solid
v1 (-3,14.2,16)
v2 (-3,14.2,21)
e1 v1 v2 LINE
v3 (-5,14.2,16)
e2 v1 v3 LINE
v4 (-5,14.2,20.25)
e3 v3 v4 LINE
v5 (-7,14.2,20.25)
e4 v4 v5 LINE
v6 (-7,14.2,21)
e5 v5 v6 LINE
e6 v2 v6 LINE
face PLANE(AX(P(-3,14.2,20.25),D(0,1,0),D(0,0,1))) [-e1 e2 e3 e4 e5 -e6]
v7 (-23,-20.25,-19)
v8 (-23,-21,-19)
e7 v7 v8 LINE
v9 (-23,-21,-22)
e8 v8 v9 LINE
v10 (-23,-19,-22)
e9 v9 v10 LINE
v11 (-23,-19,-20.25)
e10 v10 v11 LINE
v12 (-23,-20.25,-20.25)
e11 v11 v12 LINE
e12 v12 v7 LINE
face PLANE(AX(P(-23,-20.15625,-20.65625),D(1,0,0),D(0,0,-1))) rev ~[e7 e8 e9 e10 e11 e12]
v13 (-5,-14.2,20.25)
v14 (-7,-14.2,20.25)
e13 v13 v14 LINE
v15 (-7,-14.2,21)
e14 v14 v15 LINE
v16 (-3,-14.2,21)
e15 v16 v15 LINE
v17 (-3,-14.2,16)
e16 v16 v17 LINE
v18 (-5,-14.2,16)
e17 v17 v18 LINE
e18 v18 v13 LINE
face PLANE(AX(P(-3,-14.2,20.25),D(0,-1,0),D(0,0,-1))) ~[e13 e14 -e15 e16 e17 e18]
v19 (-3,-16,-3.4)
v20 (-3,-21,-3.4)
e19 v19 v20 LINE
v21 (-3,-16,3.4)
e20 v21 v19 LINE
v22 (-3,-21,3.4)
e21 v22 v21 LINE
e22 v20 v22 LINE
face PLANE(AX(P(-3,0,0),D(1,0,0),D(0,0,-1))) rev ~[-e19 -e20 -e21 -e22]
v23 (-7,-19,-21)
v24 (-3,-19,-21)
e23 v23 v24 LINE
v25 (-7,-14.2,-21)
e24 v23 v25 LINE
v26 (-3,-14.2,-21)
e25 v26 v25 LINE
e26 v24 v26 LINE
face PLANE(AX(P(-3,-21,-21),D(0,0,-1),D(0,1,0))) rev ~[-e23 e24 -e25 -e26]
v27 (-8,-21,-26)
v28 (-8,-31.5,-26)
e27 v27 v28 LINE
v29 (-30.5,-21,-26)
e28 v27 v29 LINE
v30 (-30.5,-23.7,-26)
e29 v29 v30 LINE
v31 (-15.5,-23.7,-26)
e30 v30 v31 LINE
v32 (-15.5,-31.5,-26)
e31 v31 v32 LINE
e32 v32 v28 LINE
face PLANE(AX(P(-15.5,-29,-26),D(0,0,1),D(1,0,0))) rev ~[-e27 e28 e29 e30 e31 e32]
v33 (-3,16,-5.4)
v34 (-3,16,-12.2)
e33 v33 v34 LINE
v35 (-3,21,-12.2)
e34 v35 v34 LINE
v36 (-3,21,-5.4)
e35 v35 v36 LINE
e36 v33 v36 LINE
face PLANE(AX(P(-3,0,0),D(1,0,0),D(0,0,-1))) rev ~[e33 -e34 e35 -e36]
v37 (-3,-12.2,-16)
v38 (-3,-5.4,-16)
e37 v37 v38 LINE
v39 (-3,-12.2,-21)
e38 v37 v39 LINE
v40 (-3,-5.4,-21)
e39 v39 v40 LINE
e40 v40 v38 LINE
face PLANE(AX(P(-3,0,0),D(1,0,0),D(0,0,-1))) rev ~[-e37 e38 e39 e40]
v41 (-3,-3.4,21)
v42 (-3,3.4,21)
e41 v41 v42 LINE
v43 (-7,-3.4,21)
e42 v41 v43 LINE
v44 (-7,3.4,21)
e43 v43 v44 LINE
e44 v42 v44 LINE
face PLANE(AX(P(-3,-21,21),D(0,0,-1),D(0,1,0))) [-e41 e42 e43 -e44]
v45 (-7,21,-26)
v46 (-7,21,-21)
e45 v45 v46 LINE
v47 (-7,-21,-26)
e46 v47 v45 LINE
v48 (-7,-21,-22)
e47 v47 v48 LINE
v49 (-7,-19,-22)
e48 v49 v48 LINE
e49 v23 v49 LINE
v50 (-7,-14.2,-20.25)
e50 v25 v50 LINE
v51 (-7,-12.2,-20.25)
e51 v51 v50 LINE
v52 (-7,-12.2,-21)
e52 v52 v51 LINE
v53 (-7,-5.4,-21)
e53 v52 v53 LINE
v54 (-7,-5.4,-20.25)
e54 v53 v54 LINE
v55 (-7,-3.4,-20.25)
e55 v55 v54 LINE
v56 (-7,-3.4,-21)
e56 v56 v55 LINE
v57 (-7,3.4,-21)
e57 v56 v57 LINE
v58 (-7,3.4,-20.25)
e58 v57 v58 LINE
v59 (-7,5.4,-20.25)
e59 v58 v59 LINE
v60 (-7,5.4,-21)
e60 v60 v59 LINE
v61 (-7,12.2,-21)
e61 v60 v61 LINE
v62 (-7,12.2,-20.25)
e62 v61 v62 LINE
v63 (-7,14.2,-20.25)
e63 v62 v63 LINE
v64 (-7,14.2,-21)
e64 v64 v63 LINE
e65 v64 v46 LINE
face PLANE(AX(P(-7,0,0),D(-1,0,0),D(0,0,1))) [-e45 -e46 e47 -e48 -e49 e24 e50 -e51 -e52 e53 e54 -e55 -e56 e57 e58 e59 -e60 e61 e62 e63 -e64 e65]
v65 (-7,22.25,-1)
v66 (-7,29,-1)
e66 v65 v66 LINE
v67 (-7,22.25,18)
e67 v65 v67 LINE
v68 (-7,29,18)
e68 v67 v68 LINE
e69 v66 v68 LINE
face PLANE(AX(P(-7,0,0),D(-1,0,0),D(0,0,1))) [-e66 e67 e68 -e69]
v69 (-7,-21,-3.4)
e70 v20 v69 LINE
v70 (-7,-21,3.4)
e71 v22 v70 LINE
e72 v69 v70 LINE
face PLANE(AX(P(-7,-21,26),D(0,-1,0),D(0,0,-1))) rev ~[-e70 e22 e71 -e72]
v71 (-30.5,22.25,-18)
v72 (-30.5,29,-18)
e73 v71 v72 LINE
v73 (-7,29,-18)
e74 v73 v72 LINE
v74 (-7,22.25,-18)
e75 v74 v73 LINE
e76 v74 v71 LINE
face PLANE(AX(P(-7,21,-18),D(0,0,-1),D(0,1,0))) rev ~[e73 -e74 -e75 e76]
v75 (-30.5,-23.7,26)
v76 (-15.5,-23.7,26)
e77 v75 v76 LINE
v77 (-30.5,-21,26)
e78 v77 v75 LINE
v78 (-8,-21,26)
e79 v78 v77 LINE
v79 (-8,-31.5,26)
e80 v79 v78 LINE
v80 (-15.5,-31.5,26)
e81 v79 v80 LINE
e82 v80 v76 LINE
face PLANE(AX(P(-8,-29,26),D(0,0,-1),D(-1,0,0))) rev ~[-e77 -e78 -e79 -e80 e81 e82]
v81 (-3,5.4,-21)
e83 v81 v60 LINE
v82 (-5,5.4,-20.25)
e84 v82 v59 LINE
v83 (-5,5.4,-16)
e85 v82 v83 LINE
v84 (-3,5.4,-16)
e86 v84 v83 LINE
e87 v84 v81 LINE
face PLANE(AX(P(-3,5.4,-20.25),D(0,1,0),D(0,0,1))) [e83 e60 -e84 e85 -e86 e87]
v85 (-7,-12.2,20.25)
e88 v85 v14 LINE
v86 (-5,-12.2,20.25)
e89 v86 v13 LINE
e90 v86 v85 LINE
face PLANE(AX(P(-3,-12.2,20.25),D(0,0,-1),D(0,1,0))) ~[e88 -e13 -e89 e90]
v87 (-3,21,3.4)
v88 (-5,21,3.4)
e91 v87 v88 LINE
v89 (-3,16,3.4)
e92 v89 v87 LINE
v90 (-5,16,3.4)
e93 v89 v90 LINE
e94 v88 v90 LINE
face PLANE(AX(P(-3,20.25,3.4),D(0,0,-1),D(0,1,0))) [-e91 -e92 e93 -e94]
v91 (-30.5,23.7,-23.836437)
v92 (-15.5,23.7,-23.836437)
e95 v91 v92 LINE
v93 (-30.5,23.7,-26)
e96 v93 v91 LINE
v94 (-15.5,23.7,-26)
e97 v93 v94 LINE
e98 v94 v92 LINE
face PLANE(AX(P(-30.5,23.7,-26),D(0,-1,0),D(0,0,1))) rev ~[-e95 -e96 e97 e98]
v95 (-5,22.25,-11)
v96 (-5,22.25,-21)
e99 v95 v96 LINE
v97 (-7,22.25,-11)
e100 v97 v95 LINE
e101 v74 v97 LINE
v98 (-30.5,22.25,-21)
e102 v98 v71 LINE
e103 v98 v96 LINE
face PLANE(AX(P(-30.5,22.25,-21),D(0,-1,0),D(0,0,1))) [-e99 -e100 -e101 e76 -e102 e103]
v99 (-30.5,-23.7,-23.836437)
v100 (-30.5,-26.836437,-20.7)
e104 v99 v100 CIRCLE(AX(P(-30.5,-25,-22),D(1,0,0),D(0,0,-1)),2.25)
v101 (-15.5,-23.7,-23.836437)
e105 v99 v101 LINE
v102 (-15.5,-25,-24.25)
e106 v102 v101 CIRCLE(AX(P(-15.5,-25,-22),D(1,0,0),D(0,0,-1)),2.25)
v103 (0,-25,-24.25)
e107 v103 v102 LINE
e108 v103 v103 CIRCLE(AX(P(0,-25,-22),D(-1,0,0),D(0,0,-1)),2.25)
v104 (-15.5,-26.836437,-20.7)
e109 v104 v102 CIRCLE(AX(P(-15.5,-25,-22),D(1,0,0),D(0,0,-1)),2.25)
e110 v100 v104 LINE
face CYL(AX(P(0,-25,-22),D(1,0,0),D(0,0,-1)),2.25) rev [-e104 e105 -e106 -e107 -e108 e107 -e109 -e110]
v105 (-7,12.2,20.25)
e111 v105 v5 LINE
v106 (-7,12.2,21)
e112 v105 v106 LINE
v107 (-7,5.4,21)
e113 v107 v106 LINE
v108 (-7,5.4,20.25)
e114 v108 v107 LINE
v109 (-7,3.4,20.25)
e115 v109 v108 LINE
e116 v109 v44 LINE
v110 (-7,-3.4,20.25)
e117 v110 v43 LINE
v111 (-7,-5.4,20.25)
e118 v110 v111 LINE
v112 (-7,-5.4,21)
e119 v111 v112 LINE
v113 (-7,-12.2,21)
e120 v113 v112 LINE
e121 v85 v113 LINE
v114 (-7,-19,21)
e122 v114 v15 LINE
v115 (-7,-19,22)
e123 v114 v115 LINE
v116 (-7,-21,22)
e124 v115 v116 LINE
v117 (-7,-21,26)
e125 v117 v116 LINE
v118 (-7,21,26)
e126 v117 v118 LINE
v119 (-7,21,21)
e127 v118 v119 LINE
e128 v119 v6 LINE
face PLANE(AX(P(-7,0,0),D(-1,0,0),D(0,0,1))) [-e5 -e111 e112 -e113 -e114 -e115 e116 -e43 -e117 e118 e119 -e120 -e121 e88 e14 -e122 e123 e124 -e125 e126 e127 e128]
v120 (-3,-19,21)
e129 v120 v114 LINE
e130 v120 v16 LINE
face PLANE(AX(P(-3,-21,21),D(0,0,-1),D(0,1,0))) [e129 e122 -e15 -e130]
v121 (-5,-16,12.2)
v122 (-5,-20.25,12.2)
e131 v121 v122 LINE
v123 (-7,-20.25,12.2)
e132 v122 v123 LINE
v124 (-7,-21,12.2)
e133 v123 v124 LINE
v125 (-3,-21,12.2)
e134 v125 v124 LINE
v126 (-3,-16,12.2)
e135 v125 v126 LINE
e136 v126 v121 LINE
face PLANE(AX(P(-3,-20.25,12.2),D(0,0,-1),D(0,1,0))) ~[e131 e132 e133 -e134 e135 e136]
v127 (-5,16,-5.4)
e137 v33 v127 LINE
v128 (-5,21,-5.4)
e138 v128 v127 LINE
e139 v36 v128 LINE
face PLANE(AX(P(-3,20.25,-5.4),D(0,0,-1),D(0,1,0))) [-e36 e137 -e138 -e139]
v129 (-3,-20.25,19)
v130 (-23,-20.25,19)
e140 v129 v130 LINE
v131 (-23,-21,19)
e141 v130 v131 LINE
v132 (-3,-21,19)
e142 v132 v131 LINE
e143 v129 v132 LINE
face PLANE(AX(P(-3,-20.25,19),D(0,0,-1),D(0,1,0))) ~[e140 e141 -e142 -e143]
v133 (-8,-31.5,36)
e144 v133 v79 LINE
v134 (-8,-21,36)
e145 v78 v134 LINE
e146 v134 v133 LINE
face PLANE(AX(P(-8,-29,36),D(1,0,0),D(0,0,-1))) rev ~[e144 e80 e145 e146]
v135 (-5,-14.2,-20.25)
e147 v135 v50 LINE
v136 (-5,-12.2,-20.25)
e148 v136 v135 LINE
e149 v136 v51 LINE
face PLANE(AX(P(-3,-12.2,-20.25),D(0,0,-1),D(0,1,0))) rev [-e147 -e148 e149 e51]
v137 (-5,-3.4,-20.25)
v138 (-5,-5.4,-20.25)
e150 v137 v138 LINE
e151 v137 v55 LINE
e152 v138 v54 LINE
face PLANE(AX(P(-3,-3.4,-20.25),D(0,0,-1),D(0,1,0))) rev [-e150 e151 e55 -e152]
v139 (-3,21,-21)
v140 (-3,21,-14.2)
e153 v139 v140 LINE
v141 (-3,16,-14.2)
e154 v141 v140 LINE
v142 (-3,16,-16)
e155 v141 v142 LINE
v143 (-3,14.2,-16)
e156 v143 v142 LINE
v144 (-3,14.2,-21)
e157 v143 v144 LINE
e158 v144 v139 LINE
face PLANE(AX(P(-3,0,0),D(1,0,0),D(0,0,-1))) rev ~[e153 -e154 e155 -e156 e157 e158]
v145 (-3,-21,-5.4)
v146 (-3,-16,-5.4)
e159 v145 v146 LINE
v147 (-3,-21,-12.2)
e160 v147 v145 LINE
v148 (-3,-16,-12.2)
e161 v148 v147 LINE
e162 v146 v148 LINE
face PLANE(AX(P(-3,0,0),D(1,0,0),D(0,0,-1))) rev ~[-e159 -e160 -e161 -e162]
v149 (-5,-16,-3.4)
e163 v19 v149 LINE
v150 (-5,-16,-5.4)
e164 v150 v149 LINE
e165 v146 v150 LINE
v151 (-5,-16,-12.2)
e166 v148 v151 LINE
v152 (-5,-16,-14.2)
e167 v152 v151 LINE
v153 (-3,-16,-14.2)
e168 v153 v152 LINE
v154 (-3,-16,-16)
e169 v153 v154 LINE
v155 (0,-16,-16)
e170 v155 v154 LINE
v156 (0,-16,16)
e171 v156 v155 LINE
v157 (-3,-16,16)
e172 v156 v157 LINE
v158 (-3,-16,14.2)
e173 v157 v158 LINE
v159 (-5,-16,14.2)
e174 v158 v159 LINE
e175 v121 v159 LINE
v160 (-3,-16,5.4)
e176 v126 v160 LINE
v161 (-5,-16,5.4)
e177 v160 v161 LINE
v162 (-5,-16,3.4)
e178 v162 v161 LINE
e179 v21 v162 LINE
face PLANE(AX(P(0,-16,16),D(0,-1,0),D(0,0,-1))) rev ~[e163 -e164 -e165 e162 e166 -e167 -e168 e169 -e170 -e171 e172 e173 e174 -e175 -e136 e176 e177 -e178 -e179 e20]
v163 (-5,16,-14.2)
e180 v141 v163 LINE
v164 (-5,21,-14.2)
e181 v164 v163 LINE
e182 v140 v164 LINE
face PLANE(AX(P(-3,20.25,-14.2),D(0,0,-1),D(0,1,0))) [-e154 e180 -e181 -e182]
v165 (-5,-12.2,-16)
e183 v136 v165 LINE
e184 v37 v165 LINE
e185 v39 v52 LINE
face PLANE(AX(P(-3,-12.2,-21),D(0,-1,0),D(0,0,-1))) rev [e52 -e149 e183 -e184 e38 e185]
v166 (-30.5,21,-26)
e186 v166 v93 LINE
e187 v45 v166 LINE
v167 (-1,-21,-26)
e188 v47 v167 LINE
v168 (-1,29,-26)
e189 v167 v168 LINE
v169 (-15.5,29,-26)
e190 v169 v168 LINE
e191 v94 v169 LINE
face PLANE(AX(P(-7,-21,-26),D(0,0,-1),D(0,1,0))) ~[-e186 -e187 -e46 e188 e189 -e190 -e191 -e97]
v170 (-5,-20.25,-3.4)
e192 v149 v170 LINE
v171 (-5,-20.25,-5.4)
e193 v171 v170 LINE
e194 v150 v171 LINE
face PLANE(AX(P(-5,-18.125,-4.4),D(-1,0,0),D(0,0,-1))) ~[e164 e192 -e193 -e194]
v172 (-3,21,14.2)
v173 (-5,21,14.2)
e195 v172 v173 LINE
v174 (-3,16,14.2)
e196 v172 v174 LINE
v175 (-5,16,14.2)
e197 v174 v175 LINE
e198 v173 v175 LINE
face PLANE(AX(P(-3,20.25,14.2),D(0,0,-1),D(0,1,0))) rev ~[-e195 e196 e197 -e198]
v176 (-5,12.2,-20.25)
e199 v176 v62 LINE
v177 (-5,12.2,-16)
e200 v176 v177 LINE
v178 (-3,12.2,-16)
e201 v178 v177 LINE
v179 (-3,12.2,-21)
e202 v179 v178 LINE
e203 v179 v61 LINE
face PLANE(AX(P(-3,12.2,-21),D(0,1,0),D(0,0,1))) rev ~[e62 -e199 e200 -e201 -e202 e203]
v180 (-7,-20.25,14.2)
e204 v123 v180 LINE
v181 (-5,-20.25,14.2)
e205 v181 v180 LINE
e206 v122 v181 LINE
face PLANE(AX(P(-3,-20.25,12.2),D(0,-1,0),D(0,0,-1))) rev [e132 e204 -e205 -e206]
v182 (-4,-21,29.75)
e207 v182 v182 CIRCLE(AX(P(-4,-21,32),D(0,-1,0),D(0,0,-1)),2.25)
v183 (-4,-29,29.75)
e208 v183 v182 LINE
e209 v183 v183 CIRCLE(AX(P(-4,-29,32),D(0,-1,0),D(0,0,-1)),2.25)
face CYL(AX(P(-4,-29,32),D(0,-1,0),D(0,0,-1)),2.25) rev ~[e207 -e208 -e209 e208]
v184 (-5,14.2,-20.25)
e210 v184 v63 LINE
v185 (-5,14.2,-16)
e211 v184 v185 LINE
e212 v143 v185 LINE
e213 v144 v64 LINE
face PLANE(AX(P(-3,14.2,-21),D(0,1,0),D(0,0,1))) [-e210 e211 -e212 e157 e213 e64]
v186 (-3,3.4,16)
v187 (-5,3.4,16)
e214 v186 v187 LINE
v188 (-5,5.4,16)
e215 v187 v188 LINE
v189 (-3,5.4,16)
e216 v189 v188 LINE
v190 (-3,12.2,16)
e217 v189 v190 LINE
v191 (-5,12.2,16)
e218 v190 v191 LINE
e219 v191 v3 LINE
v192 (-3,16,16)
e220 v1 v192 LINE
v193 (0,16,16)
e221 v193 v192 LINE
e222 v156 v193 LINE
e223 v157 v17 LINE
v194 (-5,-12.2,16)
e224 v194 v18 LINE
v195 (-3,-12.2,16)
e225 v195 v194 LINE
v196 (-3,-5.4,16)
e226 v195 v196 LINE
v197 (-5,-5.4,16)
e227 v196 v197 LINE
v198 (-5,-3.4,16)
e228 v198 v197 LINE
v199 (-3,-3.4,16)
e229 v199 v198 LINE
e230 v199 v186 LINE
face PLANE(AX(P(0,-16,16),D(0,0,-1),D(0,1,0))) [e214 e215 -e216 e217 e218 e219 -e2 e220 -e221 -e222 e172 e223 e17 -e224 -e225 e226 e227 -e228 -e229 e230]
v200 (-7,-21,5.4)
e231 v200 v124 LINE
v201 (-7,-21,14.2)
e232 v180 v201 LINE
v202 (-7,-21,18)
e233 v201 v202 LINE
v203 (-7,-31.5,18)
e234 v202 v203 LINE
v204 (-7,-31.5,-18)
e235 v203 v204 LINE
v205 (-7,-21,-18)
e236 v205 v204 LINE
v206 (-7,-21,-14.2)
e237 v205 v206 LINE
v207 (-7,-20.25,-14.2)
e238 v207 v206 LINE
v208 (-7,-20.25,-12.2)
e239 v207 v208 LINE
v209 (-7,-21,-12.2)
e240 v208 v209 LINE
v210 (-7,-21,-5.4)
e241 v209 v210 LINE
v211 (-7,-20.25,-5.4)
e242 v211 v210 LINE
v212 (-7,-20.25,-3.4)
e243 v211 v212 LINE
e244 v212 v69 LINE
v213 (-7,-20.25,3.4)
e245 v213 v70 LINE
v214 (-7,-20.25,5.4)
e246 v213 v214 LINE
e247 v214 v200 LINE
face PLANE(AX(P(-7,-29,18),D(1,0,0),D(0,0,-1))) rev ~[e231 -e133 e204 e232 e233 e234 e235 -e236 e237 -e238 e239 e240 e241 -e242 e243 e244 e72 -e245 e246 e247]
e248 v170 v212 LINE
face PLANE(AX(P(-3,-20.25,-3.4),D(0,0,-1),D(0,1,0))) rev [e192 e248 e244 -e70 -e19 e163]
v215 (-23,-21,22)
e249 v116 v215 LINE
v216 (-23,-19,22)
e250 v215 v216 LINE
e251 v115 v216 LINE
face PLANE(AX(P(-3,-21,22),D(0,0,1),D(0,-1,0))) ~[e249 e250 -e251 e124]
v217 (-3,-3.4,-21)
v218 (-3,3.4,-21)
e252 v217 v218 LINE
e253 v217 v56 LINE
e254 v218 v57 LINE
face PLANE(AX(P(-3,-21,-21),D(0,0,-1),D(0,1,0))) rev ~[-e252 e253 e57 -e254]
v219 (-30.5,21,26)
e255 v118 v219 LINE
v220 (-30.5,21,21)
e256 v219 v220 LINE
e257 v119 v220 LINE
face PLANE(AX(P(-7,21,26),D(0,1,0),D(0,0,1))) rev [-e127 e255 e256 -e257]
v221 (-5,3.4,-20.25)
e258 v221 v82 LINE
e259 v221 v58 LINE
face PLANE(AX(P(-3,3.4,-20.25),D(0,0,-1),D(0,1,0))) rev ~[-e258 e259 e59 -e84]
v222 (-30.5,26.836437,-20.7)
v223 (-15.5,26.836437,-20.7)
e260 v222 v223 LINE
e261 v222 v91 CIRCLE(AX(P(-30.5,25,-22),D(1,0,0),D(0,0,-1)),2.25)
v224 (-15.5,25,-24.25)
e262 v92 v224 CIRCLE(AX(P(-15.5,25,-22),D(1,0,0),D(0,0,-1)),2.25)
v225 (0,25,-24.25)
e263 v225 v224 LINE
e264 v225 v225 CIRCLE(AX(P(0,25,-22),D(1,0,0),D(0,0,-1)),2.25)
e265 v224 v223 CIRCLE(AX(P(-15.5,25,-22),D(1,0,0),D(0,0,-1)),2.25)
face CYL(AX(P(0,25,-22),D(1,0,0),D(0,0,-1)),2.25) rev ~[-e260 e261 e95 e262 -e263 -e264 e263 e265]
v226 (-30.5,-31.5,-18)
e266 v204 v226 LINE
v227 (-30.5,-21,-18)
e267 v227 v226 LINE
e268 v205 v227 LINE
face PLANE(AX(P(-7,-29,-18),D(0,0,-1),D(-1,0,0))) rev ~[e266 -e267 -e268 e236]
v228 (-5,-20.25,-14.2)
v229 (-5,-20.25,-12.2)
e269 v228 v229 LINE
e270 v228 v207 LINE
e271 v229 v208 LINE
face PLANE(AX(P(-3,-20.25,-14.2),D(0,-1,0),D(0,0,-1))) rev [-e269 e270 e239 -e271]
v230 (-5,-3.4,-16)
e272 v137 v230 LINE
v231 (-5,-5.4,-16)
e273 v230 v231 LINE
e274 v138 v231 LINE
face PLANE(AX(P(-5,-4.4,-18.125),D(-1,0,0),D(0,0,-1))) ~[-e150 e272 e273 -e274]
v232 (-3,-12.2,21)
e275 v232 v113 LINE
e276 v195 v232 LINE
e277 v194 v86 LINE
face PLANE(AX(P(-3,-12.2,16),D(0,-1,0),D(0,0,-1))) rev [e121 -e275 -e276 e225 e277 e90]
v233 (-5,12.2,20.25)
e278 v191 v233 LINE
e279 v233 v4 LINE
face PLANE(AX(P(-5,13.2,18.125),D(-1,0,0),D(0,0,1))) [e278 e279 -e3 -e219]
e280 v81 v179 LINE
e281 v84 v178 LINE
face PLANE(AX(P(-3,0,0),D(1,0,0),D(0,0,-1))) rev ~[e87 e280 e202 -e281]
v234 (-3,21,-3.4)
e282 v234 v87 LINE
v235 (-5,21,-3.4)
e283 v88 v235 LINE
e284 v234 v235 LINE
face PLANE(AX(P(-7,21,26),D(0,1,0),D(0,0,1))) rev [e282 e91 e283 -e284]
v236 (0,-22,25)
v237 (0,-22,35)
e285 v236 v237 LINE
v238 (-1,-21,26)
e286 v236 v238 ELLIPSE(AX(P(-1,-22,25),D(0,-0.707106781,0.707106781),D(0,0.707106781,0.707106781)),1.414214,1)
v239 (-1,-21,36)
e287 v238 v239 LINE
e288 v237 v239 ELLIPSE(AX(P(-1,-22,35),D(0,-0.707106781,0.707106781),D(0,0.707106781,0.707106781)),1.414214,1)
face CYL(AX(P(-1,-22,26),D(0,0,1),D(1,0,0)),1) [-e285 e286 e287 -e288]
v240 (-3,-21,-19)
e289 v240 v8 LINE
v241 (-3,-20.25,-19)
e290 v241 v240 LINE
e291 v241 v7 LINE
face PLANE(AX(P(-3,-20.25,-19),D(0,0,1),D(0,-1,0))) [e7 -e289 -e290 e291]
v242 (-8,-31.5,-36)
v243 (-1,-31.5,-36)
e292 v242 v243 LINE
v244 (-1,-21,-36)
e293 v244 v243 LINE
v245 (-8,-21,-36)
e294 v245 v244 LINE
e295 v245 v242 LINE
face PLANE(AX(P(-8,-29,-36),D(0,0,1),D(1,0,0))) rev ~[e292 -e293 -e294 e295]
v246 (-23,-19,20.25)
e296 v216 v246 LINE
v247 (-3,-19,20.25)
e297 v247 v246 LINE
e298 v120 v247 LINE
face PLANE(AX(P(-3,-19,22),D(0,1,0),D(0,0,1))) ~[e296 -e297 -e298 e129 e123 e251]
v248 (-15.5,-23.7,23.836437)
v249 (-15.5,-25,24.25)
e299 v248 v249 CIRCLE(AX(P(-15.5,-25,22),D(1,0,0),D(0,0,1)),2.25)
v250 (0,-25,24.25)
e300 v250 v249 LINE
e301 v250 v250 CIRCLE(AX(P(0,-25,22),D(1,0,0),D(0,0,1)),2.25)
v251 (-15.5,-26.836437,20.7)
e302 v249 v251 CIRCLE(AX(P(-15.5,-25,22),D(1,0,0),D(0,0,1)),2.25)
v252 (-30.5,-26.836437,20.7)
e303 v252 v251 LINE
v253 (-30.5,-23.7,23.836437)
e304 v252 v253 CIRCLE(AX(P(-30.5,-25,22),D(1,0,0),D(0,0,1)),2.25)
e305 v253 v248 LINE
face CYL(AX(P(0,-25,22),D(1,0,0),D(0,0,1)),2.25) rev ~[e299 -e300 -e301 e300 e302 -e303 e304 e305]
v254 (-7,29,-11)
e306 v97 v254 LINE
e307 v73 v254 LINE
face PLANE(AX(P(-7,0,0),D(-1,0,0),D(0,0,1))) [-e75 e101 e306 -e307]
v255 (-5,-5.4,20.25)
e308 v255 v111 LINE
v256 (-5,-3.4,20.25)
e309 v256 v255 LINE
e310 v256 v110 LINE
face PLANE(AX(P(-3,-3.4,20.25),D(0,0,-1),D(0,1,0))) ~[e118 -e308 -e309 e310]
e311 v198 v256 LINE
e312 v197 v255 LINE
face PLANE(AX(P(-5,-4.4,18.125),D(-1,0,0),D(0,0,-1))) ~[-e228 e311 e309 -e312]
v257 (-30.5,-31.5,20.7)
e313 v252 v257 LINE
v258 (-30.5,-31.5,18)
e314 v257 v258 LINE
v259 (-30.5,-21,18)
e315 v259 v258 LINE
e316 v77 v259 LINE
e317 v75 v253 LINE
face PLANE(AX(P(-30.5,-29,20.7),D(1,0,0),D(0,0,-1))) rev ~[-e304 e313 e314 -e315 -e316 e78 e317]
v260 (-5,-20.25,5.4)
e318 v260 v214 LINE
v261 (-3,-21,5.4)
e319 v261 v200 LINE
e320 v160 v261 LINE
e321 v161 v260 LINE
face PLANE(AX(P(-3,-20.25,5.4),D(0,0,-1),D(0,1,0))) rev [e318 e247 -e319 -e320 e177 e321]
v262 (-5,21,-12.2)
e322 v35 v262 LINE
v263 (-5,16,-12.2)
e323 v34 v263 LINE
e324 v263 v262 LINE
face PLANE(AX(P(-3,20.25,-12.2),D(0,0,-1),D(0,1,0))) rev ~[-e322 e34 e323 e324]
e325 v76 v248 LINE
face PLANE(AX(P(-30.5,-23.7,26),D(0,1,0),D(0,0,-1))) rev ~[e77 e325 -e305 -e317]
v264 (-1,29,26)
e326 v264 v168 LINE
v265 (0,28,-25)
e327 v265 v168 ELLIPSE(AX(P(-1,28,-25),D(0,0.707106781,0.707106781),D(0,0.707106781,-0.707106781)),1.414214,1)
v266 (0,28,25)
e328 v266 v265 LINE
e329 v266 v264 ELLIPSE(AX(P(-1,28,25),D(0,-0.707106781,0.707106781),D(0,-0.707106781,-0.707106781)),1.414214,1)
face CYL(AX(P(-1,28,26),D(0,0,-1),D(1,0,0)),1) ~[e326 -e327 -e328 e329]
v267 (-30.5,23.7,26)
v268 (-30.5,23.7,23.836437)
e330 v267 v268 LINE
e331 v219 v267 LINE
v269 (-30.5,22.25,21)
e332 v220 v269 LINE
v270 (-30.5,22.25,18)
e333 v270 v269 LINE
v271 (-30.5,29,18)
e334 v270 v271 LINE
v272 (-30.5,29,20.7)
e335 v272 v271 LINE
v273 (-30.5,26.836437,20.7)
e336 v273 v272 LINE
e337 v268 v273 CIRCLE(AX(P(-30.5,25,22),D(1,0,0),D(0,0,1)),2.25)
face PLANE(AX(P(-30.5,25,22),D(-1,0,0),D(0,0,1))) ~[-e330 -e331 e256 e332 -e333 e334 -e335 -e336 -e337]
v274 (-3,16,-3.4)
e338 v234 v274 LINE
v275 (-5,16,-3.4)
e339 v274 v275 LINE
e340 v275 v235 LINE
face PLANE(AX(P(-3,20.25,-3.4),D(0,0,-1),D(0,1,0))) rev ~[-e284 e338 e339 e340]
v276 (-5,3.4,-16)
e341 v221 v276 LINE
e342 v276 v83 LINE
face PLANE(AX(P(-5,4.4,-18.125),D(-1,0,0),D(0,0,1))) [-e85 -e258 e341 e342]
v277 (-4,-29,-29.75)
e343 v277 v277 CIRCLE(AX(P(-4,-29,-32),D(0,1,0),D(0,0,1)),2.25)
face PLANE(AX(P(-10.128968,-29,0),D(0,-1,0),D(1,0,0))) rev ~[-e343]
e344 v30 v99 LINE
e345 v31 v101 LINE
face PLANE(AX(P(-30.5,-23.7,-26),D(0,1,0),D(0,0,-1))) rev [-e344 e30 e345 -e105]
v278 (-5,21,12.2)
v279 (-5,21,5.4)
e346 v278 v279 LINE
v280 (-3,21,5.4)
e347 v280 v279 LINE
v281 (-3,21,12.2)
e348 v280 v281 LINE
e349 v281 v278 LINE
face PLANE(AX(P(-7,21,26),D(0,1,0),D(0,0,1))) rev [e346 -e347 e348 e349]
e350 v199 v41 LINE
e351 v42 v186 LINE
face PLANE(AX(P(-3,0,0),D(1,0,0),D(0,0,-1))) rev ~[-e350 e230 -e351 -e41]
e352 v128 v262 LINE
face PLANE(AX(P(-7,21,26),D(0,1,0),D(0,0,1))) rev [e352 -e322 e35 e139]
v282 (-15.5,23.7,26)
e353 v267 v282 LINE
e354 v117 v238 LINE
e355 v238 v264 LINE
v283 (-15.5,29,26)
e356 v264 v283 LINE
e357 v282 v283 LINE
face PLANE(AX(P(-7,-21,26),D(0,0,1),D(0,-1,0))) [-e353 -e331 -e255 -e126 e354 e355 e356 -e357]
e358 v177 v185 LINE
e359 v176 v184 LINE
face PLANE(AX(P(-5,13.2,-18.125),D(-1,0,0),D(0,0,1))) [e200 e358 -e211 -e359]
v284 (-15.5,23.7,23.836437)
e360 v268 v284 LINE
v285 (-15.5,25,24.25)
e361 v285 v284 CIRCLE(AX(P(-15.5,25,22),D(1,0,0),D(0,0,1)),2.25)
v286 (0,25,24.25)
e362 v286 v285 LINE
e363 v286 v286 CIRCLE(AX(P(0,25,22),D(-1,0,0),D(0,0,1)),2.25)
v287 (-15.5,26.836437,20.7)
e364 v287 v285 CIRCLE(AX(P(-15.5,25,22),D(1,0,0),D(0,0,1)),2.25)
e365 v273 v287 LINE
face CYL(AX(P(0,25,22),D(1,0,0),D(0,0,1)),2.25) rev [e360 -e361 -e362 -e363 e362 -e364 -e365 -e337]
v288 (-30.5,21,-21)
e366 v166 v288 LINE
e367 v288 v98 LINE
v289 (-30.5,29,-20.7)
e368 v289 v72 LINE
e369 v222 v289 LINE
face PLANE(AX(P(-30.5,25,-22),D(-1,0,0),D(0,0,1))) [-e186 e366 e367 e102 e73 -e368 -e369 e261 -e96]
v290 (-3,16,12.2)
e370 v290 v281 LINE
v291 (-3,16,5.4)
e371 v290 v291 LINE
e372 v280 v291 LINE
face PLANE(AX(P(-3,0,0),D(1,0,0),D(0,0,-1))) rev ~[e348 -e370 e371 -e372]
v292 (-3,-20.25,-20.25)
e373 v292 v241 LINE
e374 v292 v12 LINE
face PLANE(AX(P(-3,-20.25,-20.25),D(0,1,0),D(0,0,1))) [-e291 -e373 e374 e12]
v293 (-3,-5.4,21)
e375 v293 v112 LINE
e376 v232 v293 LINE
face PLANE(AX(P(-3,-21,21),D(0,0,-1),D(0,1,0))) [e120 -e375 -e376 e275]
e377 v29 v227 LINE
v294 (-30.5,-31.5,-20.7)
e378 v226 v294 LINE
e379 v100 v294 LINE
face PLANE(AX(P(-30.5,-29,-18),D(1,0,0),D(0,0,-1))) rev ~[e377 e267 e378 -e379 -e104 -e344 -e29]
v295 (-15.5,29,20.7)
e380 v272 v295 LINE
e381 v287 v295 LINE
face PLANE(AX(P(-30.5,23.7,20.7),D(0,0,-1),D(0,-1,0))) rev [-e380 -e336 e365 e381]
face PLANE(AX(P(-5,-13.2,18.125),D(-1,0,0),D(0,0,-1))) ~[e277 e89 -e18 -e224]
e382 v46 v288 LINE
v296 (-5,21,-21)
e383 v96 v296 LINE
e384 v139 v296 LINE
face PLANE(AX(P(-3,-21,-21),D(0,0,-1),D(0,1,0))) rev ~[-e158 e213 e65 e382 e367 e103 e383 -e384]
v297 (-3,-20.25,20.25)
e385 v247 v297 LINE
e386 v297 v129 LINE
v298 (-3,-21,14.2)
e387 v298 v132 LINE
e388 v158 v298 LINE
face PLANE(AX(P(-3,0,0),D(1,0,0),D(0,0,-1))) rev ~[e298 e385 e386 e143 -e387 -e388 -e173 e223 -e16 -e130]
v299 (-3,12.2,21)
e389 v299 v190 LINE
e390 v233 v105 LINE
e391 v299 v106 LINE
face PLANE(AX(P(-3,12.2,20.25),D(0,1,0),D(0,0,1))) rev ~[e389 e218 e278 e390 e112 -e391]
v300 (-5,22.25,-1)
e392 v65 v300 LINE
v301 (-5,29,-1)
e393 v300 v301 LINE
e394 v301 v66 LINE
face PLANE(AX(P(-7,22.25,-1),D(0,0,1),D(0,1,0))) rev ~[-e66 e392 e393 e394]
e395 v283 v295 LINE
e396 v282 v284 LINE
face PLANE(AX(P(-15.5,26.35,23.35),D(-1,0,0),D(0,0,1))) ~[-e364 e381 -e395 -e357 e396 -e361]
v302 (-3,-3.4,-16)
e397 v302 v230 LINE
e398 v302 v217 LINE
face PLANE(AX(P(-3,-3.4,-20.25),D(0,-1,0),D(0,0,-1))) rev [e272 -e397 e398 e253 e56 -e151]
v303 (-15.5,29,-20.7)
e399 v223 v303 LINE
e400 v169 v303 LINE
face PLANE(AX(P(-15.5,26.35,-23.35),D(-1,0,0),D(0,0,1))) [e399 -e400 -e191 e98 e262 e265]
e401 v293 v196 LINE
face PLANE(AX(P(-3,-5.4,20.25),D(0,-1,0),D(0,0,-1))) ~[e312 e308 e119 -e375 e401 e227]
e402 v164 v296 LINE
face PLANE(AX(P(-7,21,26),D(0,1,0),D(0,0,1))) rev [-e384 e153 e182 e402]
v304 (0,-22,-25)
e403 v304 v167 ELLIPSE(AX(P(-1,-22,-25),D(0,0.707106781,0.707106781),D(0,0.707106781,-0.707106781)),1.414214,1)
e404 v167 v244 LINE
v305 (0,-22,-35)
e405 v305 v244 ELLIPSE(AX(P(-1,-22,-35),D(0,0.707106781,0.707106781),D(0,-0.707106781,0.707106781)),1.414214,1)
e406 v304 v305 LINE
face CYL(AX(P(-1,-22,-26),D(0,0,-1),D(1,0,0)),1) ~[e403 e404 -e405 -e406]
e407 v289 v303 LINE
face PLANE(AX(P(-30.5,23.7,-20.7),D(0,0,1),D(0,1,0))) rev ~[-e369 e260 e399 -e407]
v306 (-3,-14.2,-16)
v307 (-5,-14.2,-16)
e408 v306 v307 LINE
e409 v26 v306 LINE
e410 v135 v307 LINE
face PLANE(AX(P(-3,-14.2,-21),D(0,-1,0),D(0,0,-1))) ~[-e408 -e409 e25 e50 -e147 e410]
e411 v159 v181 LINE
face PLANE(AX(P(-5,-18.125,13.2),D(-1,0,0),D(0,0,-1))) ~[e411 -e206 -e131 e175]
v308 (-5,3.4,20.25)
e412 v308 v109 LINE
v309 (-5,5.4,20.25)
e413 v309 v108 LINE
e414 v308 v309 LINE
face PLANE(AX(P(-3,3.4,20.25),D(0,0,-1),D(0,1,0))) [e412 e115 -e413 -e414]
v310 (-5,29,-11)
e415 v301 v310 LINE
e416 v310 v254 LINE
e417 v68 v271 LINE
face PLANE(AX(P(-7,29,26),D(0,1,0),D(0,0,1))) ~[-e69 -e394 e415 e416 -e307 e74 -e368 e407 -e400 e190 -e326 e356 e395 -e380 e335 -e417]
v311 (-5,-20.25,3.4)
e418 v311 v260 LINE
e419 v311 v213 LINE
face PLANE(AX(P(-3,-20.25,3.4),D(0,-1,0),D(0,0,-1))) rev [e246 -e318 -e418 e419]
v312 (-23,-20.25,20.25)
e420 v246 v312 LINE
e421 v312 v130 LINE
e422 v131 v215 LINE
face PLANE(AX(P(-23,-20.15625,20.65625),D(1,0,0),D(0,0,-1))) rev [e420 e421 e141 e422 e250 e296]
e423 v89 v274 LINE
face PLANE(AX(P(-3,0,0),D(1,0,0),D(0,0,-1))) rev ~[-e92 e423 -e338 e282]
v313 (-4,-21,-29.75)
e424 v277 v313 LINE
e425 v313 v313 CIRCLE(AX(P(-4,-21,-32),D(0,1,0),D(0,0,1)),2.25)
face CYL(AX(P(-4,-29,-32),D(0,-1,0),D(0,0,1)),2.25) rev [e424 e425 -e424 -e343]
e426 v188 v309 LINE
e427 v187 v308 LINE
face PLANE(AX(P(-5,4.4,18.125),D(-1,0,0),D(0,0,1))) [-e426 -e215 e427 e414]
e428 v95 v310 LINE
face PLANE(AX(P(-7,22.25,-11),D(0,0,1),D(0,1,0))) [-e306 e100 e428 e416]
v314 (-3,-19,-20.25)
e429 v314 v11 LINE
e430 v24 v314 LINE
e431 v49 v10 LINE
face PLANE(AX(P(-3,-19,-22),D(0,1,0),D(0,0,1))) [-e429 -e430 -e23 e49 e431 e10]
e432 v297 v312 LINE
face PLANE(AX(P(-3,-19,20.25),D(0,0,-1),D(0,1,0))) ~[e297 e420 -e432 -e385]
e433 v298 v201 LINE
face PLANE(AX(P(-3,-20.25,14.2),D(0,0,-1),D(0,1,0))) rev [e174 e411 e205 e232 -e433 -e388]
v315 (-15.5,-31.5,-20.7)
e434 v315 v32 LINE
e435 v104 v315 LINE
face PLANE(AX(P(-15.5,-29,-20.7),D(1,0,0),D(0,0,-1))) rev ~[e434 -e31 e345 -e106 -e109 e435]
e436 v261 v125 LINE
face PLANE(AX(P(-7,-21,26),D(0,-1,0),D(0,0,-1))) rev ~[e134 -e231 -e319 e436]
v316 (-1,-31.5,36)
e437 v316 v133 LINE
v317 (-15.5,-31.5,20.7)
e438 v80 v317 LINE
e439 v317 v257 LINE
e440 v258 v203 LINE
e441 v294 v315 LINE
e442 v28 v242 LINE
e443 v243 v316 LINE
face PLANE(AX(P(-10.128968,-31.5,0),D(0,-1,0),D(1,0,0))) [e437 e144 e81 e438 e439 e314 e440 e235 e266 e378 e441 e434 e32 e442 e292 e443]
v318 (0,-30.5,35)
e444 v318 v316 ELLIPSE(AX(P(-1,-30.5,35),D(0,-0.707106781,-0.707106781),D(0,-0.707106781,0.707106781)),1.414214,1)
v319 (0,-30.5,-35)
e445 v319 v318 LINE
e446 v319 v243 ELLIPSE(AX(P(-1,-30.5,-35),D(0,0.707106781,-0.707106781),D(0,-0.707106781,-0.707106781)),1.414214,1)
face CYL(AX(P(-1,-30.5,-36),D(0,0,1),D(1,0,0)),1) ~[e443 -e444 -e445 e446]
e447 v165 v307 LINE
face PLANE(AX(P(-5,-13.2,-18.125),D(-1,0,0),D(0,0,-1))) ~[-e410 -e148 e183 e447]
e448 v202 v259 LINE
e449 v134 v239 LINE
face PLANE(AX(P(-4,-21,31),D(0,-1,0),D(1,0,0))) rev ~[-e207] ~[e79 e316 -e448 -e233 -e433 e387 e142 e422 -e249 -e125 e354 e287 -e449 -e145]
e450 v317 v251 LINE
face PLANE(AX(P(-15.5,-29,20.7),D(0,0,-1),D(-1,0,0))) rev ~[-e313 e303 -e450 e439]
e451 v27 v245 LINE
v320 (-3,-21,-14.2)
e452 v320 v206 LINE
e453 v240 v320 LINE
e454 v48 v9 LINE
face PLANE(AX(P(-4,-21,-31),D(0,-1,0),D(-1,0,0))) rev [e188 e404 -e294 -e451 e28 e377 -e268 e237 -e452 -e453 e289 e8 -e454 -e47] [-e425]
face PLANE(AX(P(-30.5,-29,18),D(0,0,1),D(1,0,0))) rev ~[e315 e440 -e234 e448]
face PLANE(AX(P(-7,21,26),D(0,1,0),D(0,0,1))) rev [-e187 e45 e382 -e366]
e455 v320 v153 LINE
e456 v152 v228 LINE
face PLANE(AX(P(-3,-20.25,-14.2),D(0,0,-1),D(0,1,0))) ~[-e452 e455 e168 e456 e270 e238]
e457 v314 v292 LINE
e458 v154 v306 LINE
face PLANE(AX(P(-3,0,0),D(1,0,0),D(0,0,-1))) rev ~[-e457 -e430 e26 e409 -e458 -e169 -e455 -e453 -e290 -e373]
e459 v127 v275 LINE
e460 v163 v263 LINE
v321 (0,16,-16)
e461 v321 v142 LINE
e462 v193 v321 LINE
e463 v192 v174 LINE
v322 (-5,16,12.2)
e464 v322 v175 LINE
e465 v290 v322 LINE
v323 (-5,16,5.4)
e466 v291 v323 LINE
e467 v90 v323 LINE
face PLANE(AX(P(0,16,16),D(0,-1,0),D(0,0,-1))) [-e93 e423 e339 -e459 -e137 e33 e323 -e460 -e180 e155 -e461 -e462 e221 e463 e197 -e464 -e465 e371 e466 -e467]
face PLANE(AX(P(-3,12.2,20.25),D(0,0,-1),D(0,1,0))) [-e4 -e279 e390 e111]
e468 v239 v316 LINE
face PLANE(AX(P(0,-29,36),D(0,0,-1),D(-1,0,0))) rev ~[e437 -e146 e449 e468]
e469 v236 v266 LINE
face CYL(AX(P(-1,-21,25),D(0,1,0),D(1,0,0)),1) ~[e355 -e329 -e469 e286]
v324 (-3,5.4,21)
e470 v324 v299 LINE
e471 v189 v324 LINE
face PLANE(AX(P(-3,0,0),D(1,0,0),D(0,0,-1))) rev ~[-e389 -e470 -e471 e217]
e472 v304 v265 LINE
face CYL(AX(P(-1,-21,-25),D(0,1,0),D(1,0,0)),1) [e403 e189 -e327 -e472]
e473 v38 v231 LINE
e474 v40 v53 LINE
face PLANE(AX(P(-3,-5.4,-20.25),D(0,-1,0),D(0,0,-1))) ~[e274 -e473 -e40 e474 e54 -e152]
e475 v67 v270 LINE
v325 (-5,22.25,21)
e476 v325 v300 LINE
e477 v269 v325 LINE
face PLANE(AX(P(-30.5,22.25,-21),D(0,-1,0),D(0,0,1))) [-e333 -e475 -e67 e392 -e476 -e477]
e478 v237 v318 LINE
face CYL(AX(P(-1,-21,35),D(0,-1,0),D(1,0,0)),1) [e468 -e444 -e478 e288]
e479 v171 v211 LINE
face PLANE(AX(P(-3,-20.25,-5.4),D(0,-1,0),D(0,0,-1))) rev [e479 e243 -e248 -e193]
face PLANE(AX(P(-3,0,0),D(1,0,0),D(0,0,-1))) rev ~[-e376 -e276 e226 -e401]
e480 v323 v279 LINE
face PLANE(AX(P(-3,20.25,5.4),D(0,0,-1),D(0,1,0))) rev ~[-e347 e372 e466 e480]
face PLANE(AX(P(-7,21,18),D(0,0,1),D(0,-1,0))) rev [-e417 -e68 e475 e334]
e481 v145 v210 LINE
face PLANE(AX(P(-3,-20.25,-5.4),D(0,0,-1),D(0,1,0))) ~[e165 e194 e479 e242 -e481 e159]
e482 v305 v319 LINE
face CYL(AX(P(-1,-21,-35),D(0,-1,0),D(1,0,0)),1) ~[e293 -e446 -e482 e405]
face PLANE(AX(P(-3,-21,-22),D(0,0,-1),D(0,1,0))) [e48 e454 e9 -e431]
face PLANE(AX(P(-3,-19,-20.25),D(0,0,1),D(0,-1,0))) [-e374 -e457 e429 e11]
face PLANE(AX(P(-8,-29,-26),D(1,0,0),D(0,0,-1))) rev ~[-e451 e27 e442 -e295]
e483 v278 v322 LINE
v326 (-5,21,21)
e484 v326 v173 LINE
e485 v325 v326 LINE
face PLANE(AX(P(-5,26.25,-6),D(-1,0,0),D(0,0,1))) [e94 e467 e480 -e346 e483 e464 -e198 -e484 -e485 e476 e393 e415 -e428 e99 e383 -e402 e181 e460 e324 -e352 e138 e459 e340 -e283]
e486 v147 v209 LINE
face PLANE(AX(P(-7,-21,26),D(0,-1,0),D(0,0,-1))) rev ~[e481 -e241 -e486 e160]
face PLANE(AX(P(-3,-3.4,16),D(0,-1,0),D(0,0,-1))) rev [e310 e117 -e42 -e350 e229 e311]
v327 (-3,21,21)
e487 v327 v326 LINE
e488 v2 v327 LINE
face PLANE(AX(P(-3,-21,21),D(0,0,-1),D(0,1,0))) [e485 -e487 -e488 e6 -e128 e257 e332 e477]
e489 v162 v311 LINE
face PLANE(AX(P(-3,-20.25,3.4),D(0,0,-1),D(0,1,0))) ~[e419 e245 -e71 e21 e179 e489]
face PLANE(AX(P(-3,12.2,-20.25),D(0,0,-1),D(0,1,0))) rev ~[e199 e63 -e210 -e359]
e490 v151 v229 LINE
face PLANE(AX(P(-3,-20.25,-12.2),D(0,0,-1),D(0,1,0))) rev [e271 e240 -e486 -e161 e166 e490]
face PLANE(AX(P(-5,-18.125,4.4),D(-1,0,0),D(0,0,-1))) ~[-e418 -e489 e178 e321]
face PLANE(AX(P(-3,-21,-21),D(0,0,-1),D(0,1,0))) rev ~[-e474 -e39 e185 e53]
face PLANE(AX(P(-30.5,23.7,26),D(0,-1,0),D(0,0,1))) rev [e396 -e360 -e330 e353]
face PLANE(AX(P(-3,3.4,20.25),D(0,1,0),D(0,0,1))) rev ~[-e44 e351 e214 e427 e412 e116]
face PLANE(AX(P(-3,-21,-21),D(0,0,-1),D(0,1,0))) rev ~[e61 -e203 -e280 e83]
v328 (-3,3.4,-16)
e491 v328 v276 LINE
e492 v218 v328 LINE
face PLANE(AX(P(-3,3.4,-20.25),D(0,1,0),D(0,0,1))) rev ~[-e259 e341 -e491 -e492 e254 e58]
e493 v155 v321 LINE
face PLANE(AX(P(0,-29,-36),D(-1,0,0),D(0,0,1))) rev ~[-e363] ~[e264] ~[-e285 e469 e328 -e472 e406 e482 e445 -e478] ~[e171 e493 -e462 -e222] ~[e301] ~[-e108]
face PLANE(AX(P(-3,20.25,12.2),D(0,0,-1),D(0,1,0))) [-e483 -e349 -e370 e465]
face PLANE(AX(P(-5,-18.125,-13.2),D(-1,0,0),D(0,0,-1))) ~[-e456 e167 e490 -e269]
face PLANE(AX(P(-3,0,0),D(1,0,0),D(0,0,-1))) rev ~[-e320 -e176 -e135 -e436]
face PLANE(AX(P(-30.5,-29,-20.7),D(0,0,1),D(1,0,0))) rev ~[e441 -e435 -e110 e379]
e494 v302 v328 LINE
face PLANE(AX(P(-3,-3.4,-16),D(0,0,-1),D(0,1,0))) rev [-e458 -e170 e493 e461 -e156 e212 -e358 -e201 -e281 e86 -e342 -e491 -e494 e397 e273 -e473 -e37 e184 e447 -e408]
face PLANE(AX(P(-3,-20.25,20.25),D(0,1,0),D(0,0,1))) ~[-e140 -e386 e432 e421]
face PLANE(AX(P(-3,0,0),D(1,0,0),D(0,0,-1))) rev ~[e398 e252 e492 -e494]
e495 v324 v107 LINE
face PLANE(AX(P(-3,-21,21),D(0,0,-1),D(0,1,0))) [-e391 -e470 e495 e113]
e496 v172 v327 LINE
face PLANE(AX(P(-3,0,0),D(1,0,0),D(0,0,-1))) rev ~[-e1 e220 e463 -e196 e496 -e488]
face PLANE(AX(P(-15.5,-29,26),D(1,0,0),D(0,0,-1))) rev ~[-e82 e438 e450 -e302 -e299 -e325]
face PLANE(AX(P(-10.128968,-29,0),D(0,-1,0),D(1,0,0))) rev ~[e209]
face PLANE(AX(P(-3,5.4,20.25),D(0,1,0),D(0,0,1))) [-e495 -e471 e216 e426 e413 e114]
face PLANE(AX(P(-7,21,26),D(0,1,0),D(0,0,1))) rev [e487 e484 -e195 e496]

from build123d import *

# Parameters (mm, degrees)
SKETCH1_W               = 52
SKETCH1_H               = 58
SKETCH1_W_2             = 32
SKETCH1_H_2             = 32
BOSS_EXTRUDE1_DEPTH     = 3
SKETCH2_W               = 52
SKETCH2_H               = 58
SKETCH2_W_2             = 42
SKETCH2_H_2             = 42
BOSS_EXTRUDE2_DEPTH     = 4
SKETCH3_W               = 8
SKETCH3_H               = 8
BOSS_EXTRUDE3_DEPTH     = 23.5
SKETCH4_R               = 2.25
CUT_EXTRUDE1_DEPTH      = 50.469687689
SKETCH5_W               = 5.3
SKETCH5_H               = 5.3
CUT_EXTRUDE2_DEPTH      = 15
MIRROR2_COPY_1_SKETCH_W = 8
MIRROR2_COPY_1_SKETCH_H = 8
MIRROR2_COPY_1_DEPTH    = 23.5
MIRROR2_COPY_2_SKETCH_R = 2.25
MIRROR2_COPY_2_DEPTH    = 50.469687689
MIRROR2_COPY_3_SKETCH_W = 5.3
MIRROR2_COPY_3_SKETCH_H = 5.3
MIRROR2_COPY_3_DEPTH    = 15
SKETCH6_W               = 2
SKETCH6_H               = 0.75
SKETCH6_W_2             = 0.75
SKETCH6_H_2             = 2
BOSS_EXTRUDE4_DEPTH     = 4
SKETCH7_W               = 4.25
SKETCH7_H               = 2
SKETCH7_W_2             = 2
SKETCH7_H_2             = 4.25
BOSS_EXTRUDE5_DEPTH     = 2
CUT_EXTRUDE3_REACH      = 51.47
SKETCH8_W               = 42
SKETCH8_H               = 2
BOSS_EXTRUDE6_DEPTH     = 20
SKETCH10_W              = 8
SKETCH10_H              = 10
SKETCH10_R              = 2.25
BOSS_EXTRUDE7_DEPTH     = 8
SKETCH11_W              = 10
SKETCH11_H              = 8
CUT_EXTRUDE4_DEPTH      = 2
BOSS_EXTRUDE8_DEPTH     = 2.5
FILLET1_R               = 1


with BuildPart() as part:
    # Sketch1 → Boss-Extrude1 (new body)
    with BuildSketch(Plane(origin=(0, 0, 0), x_dir=(0, 0, -1), z_dir=(1, 0, 0))):
        Rectangle(SKETCH1_W, SKETCH1_H)
        Rectangle(SKETCH1_W_2, SKETCH1_H_2, mode=Mode.SUBTRACT)
    extrude(amount=-BOSS_EXTRUDE1_DEPTH)

    # Sketch2 → Boss-Extrude2 (add)
    with BuildSketch(Plane.ZY.offset(3)):
        Rectangle(SKETCH2_W, SKETCH2_H)
        Rectangle(SKETCH2_W_2, SKETCH2_H_2, mode=Mode.SUBTRACT)
    extrude(amount=BOSS_EXTRUDE2_DEPTH)

    # Sketch3 → Boss-Extrude3 (add)
    with BuildSketch(Plane.ZY.offset(7)):
        with Locations((-22, 25)):
            Rectangle(SKETCH3_W, SKETCH3_H)
    boss_extrude3 = extrude(amount=BOSS_EXTRUDE3_DEPTH)

    # Sketch4 → Cut-Extrude1 (cut, through all)
    with BuildSketch(Plane(origin=(0, 0, 0), x_dir=(0, 0, -1), z_dir=(1, 0, 0))):
        with Locations((22, 25)):
            Circle(SKETCH4_R)
    cut_extrude1 = extrude(amount=-CUT_EXTRUDE1_DEPTH, mode=Mode.SUBTRACT)

    # Sketch5 → Cut-Extrude2 (cut)
    with BuildSketch(Plane.ZY.offset(30.5)):
        with Locations((-23.35, 26.35)):
            Rectangle(SKETCH5_W, SKETCH5_H)
    cut_extrude2 = extrude(amount=-CUT_EXTRUDE2_DEPTH, mode=Mode.SUBTRACT)

    # Mirror1: Boss-Extrude3, Cut-Extrude1, Cut-Extrude2 across plane
    add(boss_extrude3.mirror(Plane.ZX))
    add(cut_extrude1.mirror(Plane.ZX), mode=Mode.SUBTRACT)
    add(cut_extrude2.mirror(Plane.ZX), mode=Mode.SUBTRACT)

    # Mirror2: Boss-Extrude3, Cut-Extrude1, Cut-Extrude2 across plane
    add(boss_extrude3.mirror(Plane.XY))
    add(cut_extrude1.mirror(Plane.XY), mode=Mode.SUBTRACT)
    add(cut_extrude2.mirror(Plane.XY), mode=Mode.SUBTRACT)

    # Mirror2 copy 1 sketch → Mirror2 copy 1 (add)
    with BuildSketch(Plane(origin=(-7, 0, 0), x_dir=(0, 0, -1), z_dir=(-1, 0, 0))):
        with Locations((-22, 25)):
            Rectangle(MIRROR2_COPY_1_SKETCH_W, MIRROR2_COPY_1_SKETCH_H)
    extrude(amount=MIRROR2_COPY_1_DEPTH)

    # Mirror2 copy 2 sketch → Mirror2 copy 2 (cut, through all)
    with BuildSketch(Plane(origin=(0, 0, 0), x_dir=(0, 0, 1), z_dir=(1, 0, 0))):
        with Locations((22, 25)):
            Circle(MIRROR2_COPY_2_SKETCH_R)
    extrude(amount=-MIRROR2_COPY_2_DEPTH, mode=Mode.SUBTRACT)

    # Mirror2 copy 3 sketch → Mirror2 copy 3 (cut)
    with BuildSketch(Plane(origin=(-30.5, 0, 0), x_dir=(0, 0, -1), z_dir=(-1, 0, 0))):
        with Locations((-23.35, 26.35)):
            Rectangle(MIRROR2_COPY_3_SKETCH_W, MIRROR2_COPY_3_SKETCH_H)
    extrude(amount=-MIRROR2_COPY_3_DEPTH, mode=Mode.SUBTRACT)

    # Sketch6 → Boss-Extrude4 (add)
    with BuildSketch(Plane.ZY.offset(3)):
        with Locations((-13.2, 20.625)):
            Rectangle(SKETCH6_W, SKETCH6_H)
        with Locations((-4.4, 20.625)):
            Rectangle(SKETCH6_W, SKETCH6_H)
        with Locations((4.4, 20.625)):
            Rectangle(SKETCH6_W, SKETCH6_H)
        with Locations((13.2, 20.625)):
            Rectangle(SKETCH6_W, SKETCH6_H)
        with Locations((20.625, 13.2)):
            Rectangle(SKETCH6_W_2, SKETCH6_H_2)
        with Locations((20.625, 4.4)):
            Rectangle(SKETCH6_W_2, SKETCH6_H_2)
        with Locations((-20.625, 13.2)):
            Rectangle(SKETCH6_W_2, SKETCH6_H_2)
        with Locations((-20.625, 4.4)):
            Rectangle(SKETCH6_W_2, SKETCH6_H_2)
    boss_extrude4 = extrude(amount=BOSS_EXTRUDE4_DEPTH)

    # Sketch7 → Boss-Extrude5 (add)
    with BuildSketch(Plane.ZY.offset(3)):
        with Locations((-18.125, 4.4)):
            Rectangle(SKETCH7_W, SKETCH7_H)
        with Locations((-18.125, 13.2)):
            Rectangle(SKETCH7_W, SKETCH7_H)
        with Locations((-13.2, 18.125)):
            Rectangle(SKETCH7_W_2, SKETCH7_H_2)
        with Locations((-4.4, 18.125)):
            Rectangle(SKETCH7_W_2, SKETCH7_H_2)
        with Locations((4.4, 18.125)):
            Rectangle(SKETCH7_W_2, SKETCH7_H_2)
        with Locations((13.2, 18.125)):
            Rectangle(SKETCH7_W_2, SKETCH7_H_2)
        with Locations((18.125, 13.2)):
            Rectangle(SKETCH7_W, SKETCH7_H)
        with Locations((18.125, 4.4)):
            Rectangle(SKETCH7_W, SKETCH7_H)
    boss_extrude5 = extrude(amount=BOSS_EXTRUDE5_DEPTH)

    # Mirror3: Boss-Extrude4, Boss-Extrude5 across plane
    add(boss_extrude4.mirror(Plane.ZX))
    add(boss_extrude5.mirror(Plane.ZX))

    # Cut-Extrude3: up to this face of the body (flat: up to its plane)
    cut_extrude3_end = Plane(part.part.faces().sort_by_distance((-5, 18.125, -13.2))[0])
    # Sketch8 → Cut-Extrude3 (cut, up to the picked face)
    with BuildSketch(Plane.ZY.offset(30.5), mode=Mode.PRIVATE) as cut_extrude3_sk1:
        with Locations((0, 21.25)):
            Rectangle(SKETCH8_W, SKETCH8_H)
    cut_extrude3_tool1 = split(extrude(cut_extrude3_sk1.sketch, amount=-CUT_EXTRUDE3_REACH, mode=Mode.PRIVATE), bisect_by=cut_extrude3_end, keep=Keep.BOTH, mode=Mode.PRIVATE)
    add(cut_extrude3_tool1.solids().sort_by(Axis((-30.5, 21.25, 0), (1, 0, 0)))[0], mode=Mode.SUBTRACT)

    # Sketch9 → Boss-Extrude6 (add)
    with BuildSketch(Plane.ZY.offset(3)):
        Polygon((-22, -21), (-22, -19), (-20.25, -19), (-20.25, -20.25), (-19, -20.25), (-19, -21), align=None)
    boss_extrude6 = extrude(amount=BOSS_EXTRUDE6_DEPTH)

    # Mirror4: Boss-Extrude6 across plane
    add(boss_extrude6.mirror(Plane.XY))

    # Sketch10 → Boss-Extrude7 (add)
    with BuildSketch(Plane.XZ.offset(29)):
        with Locations((-4, 31)):
            Rectangle(SKETCH10_W, SKETCH10_H)
        with Locations(Location((-4, 32, 0), (0, 0, 270))):
            Circle(SKETCH10_R, mode=Mode.SUBTRACT)
    boss_extrude7 = extrude(amount=-BOSS_EXTRUDE7_DEPTH)

    # Mirror5: Boss-Extrude7 across plane
    add(boss_extrude7.mirror(Plane.XY))

    # Sketch11 → Cut-Extrude4 (cut)
    with BuildSketch(Plane.ZY.offset(7)):
        with Locations((-6, 26.25)):
            Rectangle(SKETCH11_W, SKETCH11_H)
    extrude(amount=-CUT_EXTRUDE4_DEPTH, mode=Mode.SUBTRACT)

    # Sketch12 → Boss-Extrude8 (add)
    with BuildSketch(Plane.XZ.offset(29)):
        Polygon((-15.5, 20.7), (-30.5, 20.7), (-30.5, 18), (-7, 18), (-7, -18), (-30.5, -18), (-30.5, -20.7), (-15.5, -20.7), (-15.5, -26), (-8, -26), (-8, -36), (0, -36), (0, 36), (-8, 36), (-8, 26), (-15.5, 26), align=None)
    extrude(amount=BOSS_EXTRUDE8_DEPTH)

    # Fillet1
    fillet1_edges = [part.edges().sort_by_distance(p)[0] for p in [
        (0, 29, 0),
        (0, 4, 26),
        (0, -21, 31),
        (0, -26.25, 36),
        (0, 4, -26),
        (0, -26.25, -36),
        (0, -21, -31),
        (0, -31.5, 0),
    ]]
    fillet(fillet1_edges, radius=FILLET1_R)


solid = part.part
